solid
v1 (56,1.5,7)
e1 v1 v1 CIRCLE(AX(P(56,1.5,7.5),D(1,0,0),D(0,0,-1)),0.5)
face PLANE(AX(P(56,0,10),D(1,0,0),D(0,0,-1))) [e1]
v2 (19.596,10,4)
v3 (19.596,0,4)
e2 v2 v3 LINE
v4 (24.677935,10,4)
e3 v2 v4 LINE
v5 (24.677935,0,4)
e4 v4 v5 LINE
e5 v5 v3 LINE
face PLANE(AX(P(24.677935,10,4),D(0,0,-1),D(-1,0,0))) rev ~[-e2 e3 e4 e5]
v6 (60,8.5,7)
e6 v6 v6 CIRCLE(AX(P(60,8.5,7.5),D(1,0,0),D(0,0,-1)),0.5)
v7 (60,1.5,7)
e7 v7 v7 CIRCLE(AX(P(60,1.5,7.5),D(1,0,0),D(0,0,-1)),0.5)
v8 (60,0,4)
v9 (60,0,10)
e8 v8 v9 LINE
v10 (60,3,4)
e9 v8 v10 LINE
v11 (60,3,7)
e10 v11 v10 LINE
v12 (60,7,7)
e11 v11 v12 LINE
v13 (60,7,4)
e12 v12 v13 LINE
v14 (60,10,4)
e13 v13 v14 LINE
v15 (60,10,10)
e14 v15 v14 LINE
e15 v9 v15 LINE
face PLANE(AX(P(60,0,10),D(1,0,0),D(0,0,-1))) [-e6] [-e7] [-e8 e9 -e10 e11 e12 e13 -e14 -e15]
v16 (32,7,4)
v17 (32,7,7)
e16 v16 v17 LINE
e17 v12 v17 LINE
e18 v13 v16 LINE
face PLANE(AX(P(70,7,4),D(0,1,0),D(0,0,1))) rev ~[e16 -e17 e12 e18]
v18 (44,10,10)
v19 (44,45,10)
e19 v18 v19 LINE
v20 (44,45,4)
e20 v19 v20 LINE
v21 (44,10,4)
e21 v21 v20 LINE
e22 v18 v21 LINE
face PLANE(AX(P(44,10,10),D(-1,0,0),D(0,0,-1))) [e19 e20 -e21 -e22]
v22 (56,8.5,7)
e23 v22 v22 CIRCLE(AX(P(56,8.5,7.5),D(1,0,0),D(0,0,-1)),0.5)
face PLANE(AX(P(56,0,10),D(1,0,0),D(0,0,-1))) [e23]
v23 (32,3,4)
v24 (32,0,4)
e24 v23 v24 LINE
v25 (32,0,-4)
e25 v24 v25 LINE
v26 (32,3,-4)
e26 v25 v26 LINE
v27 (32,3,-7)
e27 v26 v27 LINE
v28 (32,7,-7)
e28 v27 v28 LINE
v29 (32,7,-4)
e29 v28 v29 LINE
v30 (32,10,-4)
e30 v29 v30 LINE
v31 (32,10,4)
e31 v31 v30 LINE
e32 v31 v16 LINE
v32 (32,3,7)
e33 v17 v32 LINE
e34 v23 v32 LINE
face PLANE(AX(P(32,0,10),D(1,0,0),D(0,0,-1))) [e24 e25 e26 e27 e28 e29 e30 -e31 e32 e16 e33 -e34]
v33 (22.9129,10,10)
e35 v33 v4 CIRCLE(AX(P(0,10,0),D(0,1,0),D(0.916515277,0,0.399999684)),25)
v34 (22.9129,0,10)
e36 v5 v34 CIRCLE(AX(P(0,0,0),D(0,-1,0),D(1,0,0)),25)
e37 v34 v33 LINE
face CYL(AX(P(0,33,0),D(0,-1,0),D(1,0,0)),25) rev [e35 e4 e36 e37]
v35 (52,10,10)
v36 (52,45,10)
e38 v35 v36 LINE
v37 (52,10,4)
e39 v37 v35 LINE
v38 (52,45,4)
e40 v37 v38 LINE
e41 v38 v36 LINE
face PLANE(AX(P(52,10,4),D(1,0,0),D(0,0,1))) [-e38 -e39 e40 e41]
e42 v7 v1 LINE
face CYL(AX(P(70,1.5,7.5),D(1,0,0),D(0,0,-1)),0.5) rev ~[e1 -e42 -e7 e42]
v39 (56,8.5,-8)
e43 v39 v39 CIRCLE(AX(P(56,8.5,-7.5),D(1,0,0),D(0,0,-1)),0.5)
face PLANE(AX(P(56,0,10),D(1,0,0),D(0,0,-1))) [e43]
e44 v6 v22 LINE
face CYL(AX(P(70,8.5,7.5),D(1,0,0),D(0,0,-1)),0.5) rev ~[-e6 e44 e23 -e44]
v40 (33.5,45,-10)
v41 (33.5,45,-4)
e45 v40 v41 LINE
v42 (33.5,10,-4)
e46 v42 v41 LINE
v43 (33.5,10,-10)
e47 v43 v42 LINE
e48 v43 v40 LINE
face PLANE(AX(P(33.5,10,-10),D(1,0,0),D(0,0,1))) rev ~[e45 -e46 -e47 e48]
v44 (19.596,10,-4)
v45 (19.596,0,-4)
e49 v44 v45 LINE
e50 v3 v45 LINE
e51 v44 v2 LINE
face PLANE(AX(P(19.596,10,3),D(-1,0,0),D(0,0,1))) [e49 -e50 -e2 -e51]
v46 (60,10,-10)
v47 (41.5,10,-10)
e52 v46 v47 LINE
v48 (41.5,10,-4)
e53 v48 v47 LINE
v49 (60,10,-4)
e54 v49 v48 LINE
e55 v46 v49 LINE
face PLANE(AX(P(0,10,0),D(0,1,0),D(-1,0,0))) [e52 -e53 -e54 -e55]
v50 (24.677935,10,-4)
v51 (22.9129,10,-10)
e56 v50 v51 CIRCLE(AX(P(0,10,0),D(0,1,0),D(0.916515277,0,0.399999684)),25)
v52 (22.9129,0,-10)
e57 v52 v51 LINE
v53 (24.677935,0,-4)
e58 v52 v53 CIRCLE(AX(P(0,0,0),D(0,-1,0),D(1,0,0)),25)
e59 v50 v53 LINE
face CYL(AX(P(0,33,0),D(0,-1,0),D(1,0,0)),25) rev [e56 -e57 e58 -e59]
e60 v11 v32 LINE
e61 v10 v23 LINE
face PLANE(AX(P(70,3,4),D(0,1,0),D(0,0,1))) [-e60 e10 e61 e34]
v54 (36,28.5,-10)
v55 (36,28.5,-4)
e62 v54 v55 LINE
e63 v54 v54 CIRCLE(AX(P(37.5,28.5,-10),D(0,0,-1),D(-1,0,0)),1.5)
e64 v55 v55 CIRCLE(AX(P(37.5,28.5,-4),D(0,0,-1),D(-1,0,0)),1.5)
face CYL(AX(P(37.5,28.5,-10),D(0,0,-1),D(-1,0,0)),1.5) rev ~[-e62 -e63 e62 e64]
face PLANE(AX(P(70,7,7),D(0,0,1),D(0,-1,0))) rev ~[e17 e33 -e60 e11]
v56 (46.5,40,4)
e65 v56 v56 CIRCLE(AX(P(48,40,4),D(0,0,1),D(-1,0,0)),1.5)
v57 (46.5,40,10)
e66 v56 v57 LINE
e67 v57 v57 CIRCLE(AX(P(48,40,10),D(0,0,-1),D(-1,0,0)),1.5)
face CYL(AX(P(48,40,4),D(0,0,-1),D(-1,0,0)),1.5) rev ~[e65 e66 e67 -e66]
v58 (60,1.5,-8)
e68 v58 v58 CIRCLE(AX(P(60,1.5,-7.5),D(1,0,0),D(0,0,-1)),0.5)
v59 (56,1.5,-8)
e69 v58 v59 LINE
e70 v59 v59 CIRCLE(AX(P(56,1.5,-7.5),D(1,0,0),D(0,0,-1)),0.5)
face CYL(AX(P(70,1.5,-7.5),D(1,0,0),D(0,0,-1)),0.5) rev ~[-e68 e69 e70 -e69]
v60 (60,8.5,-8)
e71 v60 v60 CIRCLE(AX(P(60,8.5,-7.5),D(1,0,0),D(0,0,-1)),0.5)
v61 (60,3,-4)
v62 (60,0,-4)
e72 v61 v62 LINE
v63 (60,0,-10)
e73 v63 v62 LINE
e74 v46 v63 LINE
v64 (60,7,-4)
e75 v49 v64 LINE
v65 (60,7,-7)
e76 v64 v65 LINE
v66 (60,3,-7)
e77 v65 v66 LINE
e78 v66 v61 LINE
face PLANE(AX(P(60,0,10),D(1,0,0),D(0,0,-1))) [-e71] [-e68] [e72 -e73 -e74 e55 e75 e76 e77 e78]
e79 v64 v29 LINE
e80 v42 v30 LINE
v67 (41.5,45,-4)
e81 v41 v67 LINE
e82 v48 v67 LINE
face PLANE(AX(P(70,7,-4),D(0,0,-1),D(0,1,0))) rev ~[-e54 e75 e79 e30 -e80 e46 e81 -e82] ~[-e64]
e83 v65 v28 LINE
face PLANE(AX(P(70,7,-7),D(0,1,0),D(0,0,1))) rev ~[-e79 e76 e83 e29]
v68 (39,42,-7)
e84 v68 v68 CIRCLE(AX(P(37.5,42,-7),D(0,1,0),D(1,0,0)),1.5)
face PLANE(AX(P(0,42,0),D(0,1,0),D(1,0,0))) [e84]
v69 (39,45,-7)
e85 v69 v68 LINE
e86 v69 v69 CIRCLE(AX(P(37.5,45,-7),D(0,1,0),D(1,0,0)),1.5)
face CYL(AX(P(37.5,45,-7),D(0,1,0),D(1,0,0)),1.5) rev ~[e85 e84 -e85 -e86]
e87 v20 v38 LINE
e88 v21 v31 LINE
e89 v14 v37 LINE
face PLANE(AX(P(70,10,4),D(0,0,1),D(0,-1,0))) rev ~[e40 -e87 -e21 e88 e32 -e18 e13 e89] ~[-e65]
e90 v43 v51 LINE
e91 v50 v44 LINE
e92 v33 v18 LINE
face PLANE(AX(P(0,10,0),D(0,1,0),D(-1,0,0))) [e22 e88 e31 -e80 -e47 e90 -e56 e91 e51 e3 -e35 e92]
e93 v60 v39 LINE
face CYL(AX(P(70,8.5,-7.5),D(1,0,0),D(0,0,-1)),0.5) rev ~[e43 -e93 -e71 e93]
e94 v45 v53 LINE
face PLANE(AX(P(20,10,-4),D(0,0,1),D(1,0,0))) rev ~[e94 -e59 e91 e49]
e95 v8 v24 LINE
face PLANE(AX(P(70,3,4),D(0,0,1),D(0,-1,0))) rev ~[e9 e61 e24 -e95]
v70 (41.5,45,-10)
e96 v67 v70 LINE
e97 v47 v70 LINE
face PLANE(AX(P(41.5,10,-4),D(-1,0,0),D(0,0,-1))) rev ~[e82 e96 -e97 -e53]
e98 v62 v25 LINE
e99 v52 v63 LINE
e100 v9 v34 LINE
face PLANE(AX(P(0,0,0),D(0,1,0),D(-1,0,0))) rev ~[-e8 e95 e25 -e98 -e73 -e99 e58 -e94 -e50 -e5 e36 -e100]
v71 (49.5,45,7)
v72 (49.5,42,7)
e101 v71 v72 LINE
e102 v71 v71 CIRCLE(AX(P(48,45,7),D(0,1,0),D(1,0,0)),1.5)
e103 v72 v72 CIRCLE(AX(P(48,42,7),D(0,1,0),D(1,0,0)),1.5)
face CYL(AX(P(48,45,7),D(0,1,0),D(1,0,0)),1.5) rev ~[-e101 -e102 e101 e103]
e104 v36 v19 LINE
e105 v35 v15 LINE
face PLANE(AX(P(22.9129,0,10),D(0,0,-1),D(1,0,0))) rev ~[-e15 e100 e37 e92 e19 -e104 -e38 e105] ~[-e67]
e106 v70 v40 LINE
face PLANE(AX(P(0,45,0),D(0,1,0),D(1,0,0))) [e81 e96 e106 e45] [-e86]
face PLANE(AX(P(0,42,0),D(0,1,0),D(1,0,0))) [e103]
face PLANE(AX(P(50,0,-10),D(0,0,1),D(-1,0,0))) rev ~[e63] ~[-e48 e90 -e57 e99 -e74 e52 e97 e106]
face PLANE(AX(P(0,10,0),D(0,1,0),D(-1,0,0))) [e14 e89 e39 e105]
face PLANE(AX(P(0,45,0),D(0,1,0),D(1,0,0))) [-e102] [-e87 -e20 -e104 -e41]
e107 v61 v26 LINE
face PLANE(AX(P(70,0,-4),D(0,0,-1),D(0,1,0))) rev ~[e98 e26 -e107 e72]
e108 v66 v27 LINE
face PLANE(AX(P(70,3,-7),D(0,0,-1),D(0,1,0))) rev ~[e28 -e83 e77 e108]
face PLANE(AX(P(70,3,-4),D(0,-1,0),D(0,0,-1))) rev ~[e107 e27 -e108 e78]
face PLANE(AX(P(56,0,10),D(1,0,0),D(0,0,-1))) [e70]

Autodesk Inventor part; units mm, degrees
ref_plane "YZ Plane" through (0, 0, 0) normal (1, 0, 0) x (0, 1, 0)
ref_plane "XZ Plane" through (0, 0, 0) normal (0, 1, 0) x (-1, 0, 0)
ref_plane "XY Plane" through (0, 0, 0) normal (0, 0, 1) x (1, 0, 0)
sketch "Sketch1" plane through (0, 0, 0) normal (0, 1, 0) x (-1, 0, 0)
  line L0 (0, 0) -> (50, 0) construction
  line L1 (0, 0) -> (50, 0) construction
  line L2 (34.573, 37.4794) -> (12.6591, 21.558)
  line L3 (46.3287, 21.2991) -> (24.4148, 5.3777)
  line L4 (46.3287, -21.2991) -> (24.4148, -5.3777)
  line L5 (34.573, -37.4794) -> (12.6591, -21.558)
  line L6 (-50, -10) -> (-22.9129, -10)
  line L7 (56.6312, -41.145) -> (50.7533, -49.2351)
  line L8 (50.7533, -49.2351) -> (62.509, -33.0548)
  line L9 (62.509, -33.0548) -> (46.3287, -21.2991)
  line L10 (50.7533, -49.2351) -> (34.573, -37.4794)
  line L11 (46.3287, 21.2991) -> (62.509, 33.0548)
  line L12 (62.509, 33.0548) -> (50.7533, 49.2351)
  line L13 (50.7533, 49.2351) -> (34.573, 37.4794)
  line L14 (-50, 10) -> (-70, 10)
  line L15 (-70, 10) -> (-70, -10)
  line L16 (-70, -10) -> (-50, -10)
  line L17 (0, 0) -> (-36, 0)
  circle A0 centre (0, 0) radius 25
  line L18 (-22.9129, 10) -> (-50, 10)
  dimension "d52" = 10
  dimension "d53" = 20
  dimension "d67" = 36
  dimension "d68" = 50
extrude "Extrusion1" add sketch "Sketch1" along normal blind 10
sketch "Sketch8" plane through (-62.509, 0, -33.0548) normal (-0.809, 0, -0.5878) x (-0.5878, 0, 0.809)
  line L0 (-10, 3) -> (-14, 3)
  line L1 (-17, 3) -> (-14, 3)
  line L2 (-3, 3) -> (-3, 7)
  line L3 (-3, 7) -> (-6, 7)
  line L4 (-17, 7) -> (-17, 3)
  line L5 (-10, 0) -> (-6, 0)
  line L6 (14.8816, 0) -> (-15.3777, 0) projected
  line L7 (-6, 0) -> (-6, 3)
  line L8 (-6, 7) -> (-6, 10)
  line L9 (14.8816, 10) -> (-15.3777, 10) projected
  line L10 (-6, 10) -> (-14, 10)
  line L11 (-14, 10) -> (-14, 7)
  line L12 (-14, 3) -> (-14, 0)
  line L13 (-14, 3) -> (-17, 3)
  line L14 (-6, 3) -> (-3, 3)
  line L15 (-14, 7) -> (-17, 7)
  point P0 (-14, 10)
  point P1 (-14, 0)
  dimension "d85" = 3
  dimension "d86" = 7
  dimension "d87" = 14
  dimension "d88" = 4
  dimension "d89" = 4
  dimension "d90" = 8
extrude "Extrusion7" cut sketch "Sketch8" against normal blind 38
sketch "Sketch9" plane through (-50.7533, 0, 49.2351) normal (-0.809, 0, 0.5878) x (0.5878, 0, 0.809)
  line L0 (-10, 3) -> (-14, 3)
  line L1 (-17, 3) -> (-14, 3)
  line L2 (-3, 3) -> (-3, 7)
  line L3 (-3, 7) -> (-6, 7)
  line L4 (-17, 7) -> (-17, 3)
  line L5 (-10, 0) -> (-6, 0)
  line L6 (-6, 0) -> (-6, 3)
  line L7 (-6, 7) -> (-6, 10)
  line L8 (-6, 10) -> (-14, 10)
  line L9 (-14, 10) -> (-14, 7)
  line L10 (-14, 3) -> (-14, 0)
  line L11 (-14, 3) -> (-17, 3)
  line L12 (-6, 3) -> (-3, 3)
  line L13 (-14, 7) -> (-17, 7)
  line L14 (-14, 0) -> (-6, 0)
  line L15 (-6, 3) -> (-3, 3)
  line L16 (-3, 7) -> (-6, 7)
  line L17 (-6, 10) -> (-14, 10)
  line L18 (-4.6223, 10) -> (-34.8816, 10) projected
  line L19 (-14, 10) -> (-14, 7)
  line L20 (-17, 7) -> (-14, 7)
  line L21 (-17, 7) -> (-17, 3)
  line L22 (-14, 3) -> (-17, 3)
  line L23 (-14, 3) -> (-14, 0)
  line L24 (-4.6223, 0) -> (-34.8816, 0) projected
  line L25 (-3, 3) -> (-3, 7)
  line L26 (-6, 7) -> (-6, 10)
  line L27 (-6, 3) -> (-6, 0)
  point P0 (-10, 0)
  point P1 (-15.3777, 0)
  point P2 (-15.3777, 10)
  point P3 (-10, 0)
  dimension "d93" = 3
  dimension "d94" = 7
  dimension "d95" = 14
  dimension "d96" = 4
  dimension "d97" = 4
  dimension "d98" = 8
extrude "Extrusion8" cut sketch "Sketch9" against normal blind 38
sketch "Sketch10" plane through (70, 0, 10) normal (1, 0, 0) x (0, 0, -1)
  line L0 (10, 0) -> (10, 3)
  line L1 (10, 3) -> (17, 3)
  line L2 (17, 3) -> (3, 3)
  line L3 (3, 3) -> (6, 3)
  line L4 (6, 3) -> (6, 0)
  line L5 (0, 0) -> (20, 0) projected
  line L6 (6, 0) -> (14, 0)
  line L7 (14, 0) -> (14, 3)
  line L8 (17, 3) -> (17, 7)
  line L9 (17, 7) -> (3, 7)
  line L10 (3, 7) -> (3, 3)
  line L11 (14, 7) -> (14, 10)
  line L12 (0, 10) -> (20, 10) projected
  line L13 (6, 10) -> (14, 10)
  line L14 (6, 10) -> (6, 7)
  dimension "d101" = 3
  dimension "d102" = 7
  dimension "d103" = 14
  dimension "d104" = 3
  dimension "d105" = 8
  dimension "d106" = 4
extrude "Extrusion9" cut sketch "Sketch10" against normal blind 38
sketch "Sketch12" plane through (70, 0, 10) normal (1, 0, 0) x (0, 0, -1)
  line L0 (20, 10) -> (0, 10) projected
  line L1 (43.0548, 0) -> (15.3777, 0) projected
  line L2 (0, 10) -> (20, 10)
  line L3 (20, 10) -> (20, 0)
  line L4 (20, 0) -> (0, 0)
  line L5 (0, 0) -> (0, 10)
  line L6 (0, 10) -> (2.5, 10)
  circle A0 centre (2.5, 8.5) radius 0.5
  circle A1 centre (2.5, 1.5) radius 0.5
  circle A2 centre (17.5, 1.5) radius 0.5
  circle A3 centre (17.5, 8.5) radius 0.5
  point P0 (10, 0)
  point P1 (16.8377, 0)
  point P2 (16.8377, 0)
  dimension "d119" = 20
  dimension "d120" = 2.5
  dimension "d123" = 1
  dimension "d126" = 1
  dimension "d127" = 1
  dimension "d128" = 1
extrude "Extrusion14" cut sketch "Sketch12" against normal blind 10
extrude "Extrusion15" cut sketch "Sketch12" against normal blind 14 contours A0 | A1 | A2 | A3
sketch "Sketch13" plane through (-50.7533, 0, -49.2351) normal (-0.809, 0, -0.5878) x (-0.5878, 0, 0.809)
  line L0 (20, 10) -> (0, 10)
  line L1 (0, 10) -> (20, 10)
  line L2 (20, 10) -> (20, 0)
  line L3 (20, 0) -> (0, 0)
  line L4 (0, 0) -> (0, 10)
  line L5 (0, 10) -> (2.5, 10)
  circle A0 centre (2.5, 8.5) radius 0.5
  circle A1 centre (2.5, 1.5) radius 0.5
  circle A2 centre (17.5, 1.5) radius 0.5
  circle A3 centre (17.5, 8.5) radius 0.5
  point P0 (10, 0)
  point P1 (10, 0)
  point P2 (16.8377, 0)
  point P3 (20, 10)
  dimension "d133" = 20
  dimension "d134" = 2.5
  dimension "d135" = 1
  dimension "d136" = 1
  dimension "d137" = 1
  dimension "d138" = 1
extrude "Extrusion16" cut sketch "Sketch13" against normal blind 10
extrude "Extrusion17" cut sketch "Sketch13" against normal blind 14 contours A0 | A1 | A2 | A3
sketch "Sketch14" plane through (-62.509, 0, 33.0548) normal (-0.809, 0, 0.5878) x (0.5878, 0, 0.809)
  line L0 (20, 10) -> (0, 10)
  line L1 (0, 10) -> (20, 10)
  line L2 (20, 10) -> (20, 0)
  line L3 (20, 0) -> (0, 0)
  line L4 (0, 0) -> (0, 10)
  line L5 (0, 10) -> (2.5, 10)
  circle A0 centre (2.5, 8.5) radius 0.5
  circle A1 centre (2.5, 1.5) radius 0.5
  circle A2 centre (17.5, 1.5) radius 0.5
  circle A3 centre (17.5, 8.5) radius 0.5
  point P0 (10, 0)
  point P1 (10, 0)
  point P2 (10, 0)
  point P3 (16.8377, 0)
  point P4 (20, 10)
  point P5 (20, 10)
  dimension "d143" = 20
  dimension "d144" = 2.5
  dimension "d145" = 1
  dimension "d146" = 1
  dimension "d147" = 1
  dimension "d148" = 1
extrude "Extrusion18" cut sketch "Sketch14" against normal blind 10
extrude "Extrusion19" cut sketch "Sketch14" against normal blind 14 contours A0 | A1 | A2 | A3
sketch "Sketch30" plane through (0, 10, 0) normal (0, 1, 0) x (1, 0, 0)
  line L0 (44, -4) -> (45, -4)
  line L1 (44, -4) -> (52, -4)
  line L2 (52, -4) -> (52, -10)
  line L3 (52, -10) -> (44, -10)
  line L4 (44, -10) -> (44, -4)
  line L5 (33.5, 4) -> (41.5, 4)
  line L6 (41.5, 4) -> (41.5, 10)
  line L7 (41.5, 10) -> (33.5, 10)
  line L8 (33.5, 10) -> (33.5, 4)
  line L9 (-24.7509, -22.9269) -> (-31.2231, -27.6292)
  line L10 (-31.2231, -27.6292) -> (-27.6611, -32.4577)
  line L11 (-27.6611, -32.4577) -> (-21.189, -27.7554)
  line L12 (-21.189, -27.7554) -> (-24.7509, -22.9269)
  line L13 (-50.8922, -32.031) -> (-28.2397, -15.5731) projected
  line L14 (-37.9479, -22.6265) -> (-44.42, -27.3288)
  line L15 (-44.42, -27.3288) -> (-47.9467, -22.4747)
  line L16 (-24.4148, -5.3777) -> (-54.4189, -27.1769) projected
  line L17 (-47.9467, -22.4747) -> (-41.4746, -17.7724)
  line L18 (-41.4746, -17.7724) -> (-37.9479, -22.6265)
  line L19 (-28.2397, 15.5731) -> (-50.8922, 32.031) projected
  line L20 (-50.8922, 32.031) -> (-28.2397, 15.5731) projected
  line L21 (-28.2397, 15.5731) -> (-29.4532, 16.4547)
  line L22 (-29.4532, 16.4547) -> (-32.9799, 11.6006)
  line L23 (-54.4189, 27.1769) -> (-24.4148, 5.3777) projected
  line L24 (-29.4532, 16.4547) -> (-35.9253, 21.157)
  line L25 (-35.9253, 21.157) -> (-39.4521, 16.3029)
  line L26 (-39.4521, 16.3029) -> (-32.9799, 11.6006)
  line L27 (-46.1899, 38.5032) -> (-23.5374, 22.0452) projected
  line L28 (-33.2456, 29.0986) -> (-39.7177, 33.8009)
  line L29 (-39.7177, 33.8009) -> (-36.191, 38.655)
  line L30 (-12.6591, 21.558) -> (-42.6632, 43.3573) projected
  line L31 (-33.2456, 29.0986) -> (-29.7189, 33.9527)
  line L32 (-46.1899, 38.5032) -> (-23.5374, 22.0452) projected
  line L33 (-29.7189, 33.9527) -> (-36.191, 38.655)
  point P0 (0, 0)
  point P1 (32, 4)
  point P2 (42, 10)
  point P3 (34, 10)
  point P4 (41, 10)
  point P5 (-23.5374, -22.0452)
  dimension "d249" = 1
  dimension "d251" = 8
  dimension "d258" = 8
  dimension "d268" = 8
  dimension "d269" = 1.5
  dimension "d270" = 8
  dimension "d271" = 8
  dimension "d278" = 12
  dimension "d279" = 8
  dimension "d282" = 1.5
  dimension "d283" = 8
  dimension "d284" = 12
  dimension "d285" = 8
extrude "Extrusion35" add sketch "Sketch30" along normal blind 35
sketch "Sketch31" plane through (22.9129, 0, -10) normal (0, 0, -1) x (-1, 0, 0)
  line L0 (-9.0871, 45) -> (-19.0871, 45) projected
  circle A0 centre (-14.5871, 28.5) radius 1.5
  point P0 (22.9129, 0)
  dimension "d264" = 3
extrude "Extrusion36" cut sketch "Sketch31" against normal up to next
sketch "Sketch32" plane through (32, 7, 4) normal (0, 0, -1) x (-1, 0, 0)
  line L0 (-20, 38) -> (-12, 38) projected
  line L1 (-16, 38) -> (-16, 33)
  circle A0 centre (-16, 33) radius 1.5
  point P0 (32, -7)
  dimension "d253" = 5
  dimension "d254" = 3
extrude "Extrusion37" cut sketch "Sketch32" against normal up to next
sketch "Sketch33" plane through (-23.5374, 7, 22.0452) normal (-0.5878, 0, -0.809) x (-0.809, 0, 0.5878)
  line L0 (9.4564, 38) -> (1.4564, 38) projected
  line L1 (5.4564, 38) -> (5.4564, 21.5)
  circle A0 centre (5.4564, 21.5) radius 1.5
  point P0 (-32, -7)
  dimension "d286" = 16.5
  dimension "d287" = 3
sketch "Sketch34" plane through (-24.4148, 0, 5.3777) normal (-0.5878, 0, -0.809) x (-0.809, 0, 0.5878)
  line L0 (29.0871, 45) -> (21.0871, 45) projected
  line L1 (25.0871, 45) -> (25.0871, 40)
  circle A0 centre (25.0871, 40) radius 1.5
  point P0 (-22.9129, 0)
  dimension "d288" = 5
  dimension "d289" = 3
sketch "Sketch35" plane through (-28.2397, 7, -15.5731) normal (0.5878, 0, -0.809) x (-0.809, 0, -0.5878)
  line L0 (1.5, 38) -> (9.5, 38) projected
  line L1 (5.5, 38) -> (5.5, 21.5)
  circle A0 centre (5.5, 21.5) radius 1.5
  point P0 (-32, -7)
  dimension "d290" = 16.5
  dimension "d291" = 3
sketch "Sketch36" plane through (-12.6591, 0, -21.558) normal (0.5878, 0, -0.809) x (-0.809, 0, -0.5878)
  line L0 (29.0871, 45) -> (21.0871, 45) projected
  line L1 (25.0871, 45) -> (25.0871, 40)
  circle A0 centre (25.0871, 40) radius 1.5
  point P0 (-22.9129, 0)
  dimension "d292" = 5
  dimension "d293" = 3
extrude "Extrusion38" cut sketch "Sketch36" against normal up to next
extrude "Extrusion39" cut sketch "Sketch35" against normal up to next
extrude "Extrusion40" cut sketch "Sketch34" against normal up to next
extrude "Extrusion41" cut sketch "Sketch33" against normal up to next
sketch "Sketch37" plane through (0, 10, 0) normal (0, 1, 0) x (1, 0, 0)
  circle A0 centre (0, 0) radius 25
  circle A1 centre (0, 0) radius 22.5
  line L0 (-23.5374, 22.0452) -> (-15.5618, 16.2506)
  line L1 (-23.5374, 22.0452) -> (-13.679, 22.0452) construction
  line L2 (-50.8922, 32.031) -> (-28.2397, 15.5731) projected
  line L3 (-28.2397, 15.5731) -> (-20.2641, 9.7784)
  line L4 (-28.2397, -15.5731) -> (-20.2641, -9.7784)
  line L5 (-23.5374, -22.0452) -> (-15.5618, -16.2506)
  line L6 (60, 4) -> (32, 4) projected
  line L7 (32, 4) -> (22.1416, 4)
  line L8 (32, -4) -> (22.1416, -4)
  circle A2 centre (0, 0) radius 21.25
  line L9 (-20.2641, -9.7784) -> (-19.2354, -9.0311)
  line L10 (-15.5618, -16.2506) -> (-14.5332, -15.5032)
  line L11 (-20.2641, 9.7784) -> (-19.2354, 9.0311)
  line L12 (-15.5618, 16.2506) -> (-14.5332, 15.5032)
  line L13 (22.1416, 4) -> (20.8701, 4)
  line L14 (22.1416, -4) -> (20.8701, -4)
  circle A3 centre (0, 0) radius 22.5
  circle A4 centre (0, 0) radius 21.25
  circle A5 centre (0, 0) radius 20
  line L15 (-19.2354, 9.0311) -> (-18.2046, 8.2821)
  line L16 (-14.5332, 15.5032) -> (-13.5023, 14.7543)
  line L17 (20.8701, -4) -> (19.5959, -4)
  line L18 (20.8701, 4) -> (19.5959, 4)
  line L19 (-14.5332, -15.5032) -> (-13.5023, -14.7543)
  line L20 (-19.2354, -9.0311) -> (-18.2046, -8.2821)
  point P0 (24.6779, -4)
  point P1 (-17.6137, -17.7414)
  point P2 (-22.316, -11.2693)
  point P3 (-22.316, 11.2693)
  point P4 (24.6779, 4)
  point P5 (-17.6137, 17.7414)
  dimension "d302" = 45
  dimension "d303" = 36
  dimension "d306" = 42.5
  dimension "d315" = 45
  dimension "d316" = 42.5
  dimension "d317" = 40
extrude "Extrusion42" add sketch "Sketch37" along normal blind 23 contours L7 A1 L0 A0 | A0 L5 A1 L8 | L13 A2 L12 A1 | A1 L10 A2 L14 | L3 A1 L4 A0 | L18 A5 L16 A2 | A2 L19 A5 L17 | L11 A2 L9 A1 | L15 A5 L20 A2
sketch "Sketch38" plane through (0, 33, 0) normal (0, 1, 0) x (1, 0, 0)
  line L0 (22.1416, 4) -> (20.8701, 4)
  line L1 (22.1416, -4) -> (20.8701, -4)
  line L2 (24.6779, 4) -> (22.1416, 4)
  line L3 (24.6779, -4) -> (22.1416, -4)
  line L4 (-15.5618, -16.2506) -> (-14.5332, -15.5032)
  line L5 (-15.5618, 16.2506) -> (-14.5332, 15.5032)
  line L6 (-20.2641, -9.7784) -> (-19.2354, -9.0311)
  line L7 (-17.6137, -17.7414) -> (-15.5618, -16.2506)
  line L8 (-22.316, -11.2693) -> (-20.2641, -9.7784)
  line L9 (-20.2641, 9.7784) -> (-19.2354, 9.0311)
  line L10 (-17.6137, 17.7414) -> (-15.5618, 16.2506)
  line L11 (-22.316, 11.2693) -> (-20.2641, 9.7784)
  line L12 (-23.5374, 22.0452) -> (-13.679, 22.0452) construction
  arc A0 (-17.6137, -17.7414) -> (24.6779, -4) centre (0, 0) ccw
  arc A1 (24.6779, 4) -> (-17.6137, 17.7414) centre (0, 0) ccw
  arc A2 (-22.316, 11.2693) -> (-22.316, -11.2693) centre (0, 0) ccw
  line L13 (20.8701, 4) -> (15.8701, 4)
  line L14 (15.8701, 4) -> (15.8701, -4)
  line L15 (15.8701, -4) -> (20.8701, -4)
  line L16 (-14.5332, 15.5032) -> (-10.4881, 12.5643)
  line L17 (-10.4881, 12.5643) -> (-15.1903, 6.0922)
  line L18 (-15.1903, 6.0922) -> (-19.2354, 9.0311)
  line L19 (-19.2354, -9.0311) -> (-15.1903, -6.0922)
  line L20 (-15.1903, -6.0922) -> (-10.4881, -12.5643)
  line L21 (-10.4881, -12.5643) -> (-14.5332, -15.5032)
  circle A3 centre (-22.5, 0) radius 1.5
  circle A4 centre (0, 22.5) radius 1.5
  circle A5 centre (18.2029, 13.2252) radius 1.5
  circle A6 centre (18.2029, -13.2252) radius 1.5
  circle A7 centre (0, -22.5) radius 1.5
  point P0 (-23.5374, -22.0452)
  point P1 (-28.2397, -15.5731)
  dimension "d307" = 36
  dimension "d308" = 5
  dimension "d309" = 5
  dimension "d310" = 3
  dimension "d311" = 3
  dimension "d312" = 3
  dimension "d313" = 3
  dimension "d314" = 3
extrude "Extrusion43" cut sketch "Sketch38" against normal blind 10 contours A3 | A4 | A5 | A6 | A7
sketch "Sketch39" plane through (0, 45, 0) normal (0, 1, 0) x (1, 0, 0)
  line L0 (-37.9479, -22.6265) -> (-41.4746, -17.7724) projected
  line L1 (-47.9467, -22.4747) -> (-44.42, -27.3288) projected
  line L2 (-31.2231, -27.6292) -> (-27.6611, -32.4577) projected
  circle A0 centre (-42.9473, -22.5506) radius 1.5
  circle A1 centre (-26.2405, -27.6816) radius 1.5
  line L3 (-29.7189, 33.9527) -> (-36.191, 38.655) projected
  line L4 (-39.7177, 33.8009) -> (-33.2456, 29.0986) projected
  line L5 (-29.4532, 16.4547) -> (-35.9253, 21.157) projected
  line L6 (41.5, 10) -> (33.5, 10) projected
  line L7 (33.5, 4) -> (41.5, 4) projected
  line L8 (44, -10) -> (52, -10) projected
  circle A2 centre (48, -7) radius 1.5
  circle A3 centre (37.5, 7) radius 1.5
  circle A4 centre (-34.7183, 33.8768) radius 1.5
  circle A5 centre (-34.4526, 16.3788) radius 1.5
  point P0 (0, 0)
  point P1 (-32.9799, 11.6006)
  point P2 (44, -4)
  dimension "d320" = 3
  dimension "d321" = 3
  dimension "d322" = 3
  dimension "d323" = 3
  dimension "d325" = 3
extrude "Extrusion44" cut sketch "Sketch39" against normal blind 3
sketch "Sketch40" plane through (0, 33, 0) normal (0, 1, 0) x (1, 0, 0)
  circle A0 centre (0, 0) radius 25
  circle A1 centre (0, 0) radius 91.0936
  line L0 (33.5, 10) -> (22.9129, 10) projected
  line L1 (22.9129, 10) -> (22.9129, 91.0936)
  line L2 (22.9129, 91.0936) -> (22.9129, 10)
  arc A2 (22.9129, 10) -> (-12.6591, 21.558) centre (0, 0) ccw projected
  line L3 (22.9129, -10) -> (22.9129, -88.1648)
  point P0 (22.9129, 88.1648)
extrude "Extrusion45" cut sketch "Sketch40" along normal through all both and the other way through all contours A0 | A0 L3 A1 L1 picked at (-50.6626, -46.6253)
sketch "Sketch41" plane through (0, 10, 0) normal (0, 1, 0) x (1, 0, 0)
  circle A0 centre (0, 0) radius 25
  arc A1 (22.9129, -10) -> (22.9129, 10) centre (0, 0) ccw projected
  line L0 (25, -3) -> (25, 0)
  line L1 (25, 0) -> (25, 3)
  line L2 (25, 3) -> (25, -3)
  line L3 (20, 4) -> (25, 4)
  line L4 (25, 4) -> (25, -4)
  line L5 (25, -4) -> (20, -4)
  line L6 (19.596, -3) -> (19.596, 4)
  line L7 (19.596, 4) -> (20, 4)
  line L8 (19.596, -3) -> (19.596, -4)
  line L9 (19.596, -4) -> (20, -4)
  point P0 (24.6779, 4)
  point P1 (24.6779, -4)
  dimension "d333" = 3
  dimension "d338" = 8
extrude "Extrusion47" add sketch "Sketch41" against normal blind 10 contours A0 L5 L9 L8 L6 L7 L3 picked at (21.532, 0.3333)
properties part number "basePart2"
